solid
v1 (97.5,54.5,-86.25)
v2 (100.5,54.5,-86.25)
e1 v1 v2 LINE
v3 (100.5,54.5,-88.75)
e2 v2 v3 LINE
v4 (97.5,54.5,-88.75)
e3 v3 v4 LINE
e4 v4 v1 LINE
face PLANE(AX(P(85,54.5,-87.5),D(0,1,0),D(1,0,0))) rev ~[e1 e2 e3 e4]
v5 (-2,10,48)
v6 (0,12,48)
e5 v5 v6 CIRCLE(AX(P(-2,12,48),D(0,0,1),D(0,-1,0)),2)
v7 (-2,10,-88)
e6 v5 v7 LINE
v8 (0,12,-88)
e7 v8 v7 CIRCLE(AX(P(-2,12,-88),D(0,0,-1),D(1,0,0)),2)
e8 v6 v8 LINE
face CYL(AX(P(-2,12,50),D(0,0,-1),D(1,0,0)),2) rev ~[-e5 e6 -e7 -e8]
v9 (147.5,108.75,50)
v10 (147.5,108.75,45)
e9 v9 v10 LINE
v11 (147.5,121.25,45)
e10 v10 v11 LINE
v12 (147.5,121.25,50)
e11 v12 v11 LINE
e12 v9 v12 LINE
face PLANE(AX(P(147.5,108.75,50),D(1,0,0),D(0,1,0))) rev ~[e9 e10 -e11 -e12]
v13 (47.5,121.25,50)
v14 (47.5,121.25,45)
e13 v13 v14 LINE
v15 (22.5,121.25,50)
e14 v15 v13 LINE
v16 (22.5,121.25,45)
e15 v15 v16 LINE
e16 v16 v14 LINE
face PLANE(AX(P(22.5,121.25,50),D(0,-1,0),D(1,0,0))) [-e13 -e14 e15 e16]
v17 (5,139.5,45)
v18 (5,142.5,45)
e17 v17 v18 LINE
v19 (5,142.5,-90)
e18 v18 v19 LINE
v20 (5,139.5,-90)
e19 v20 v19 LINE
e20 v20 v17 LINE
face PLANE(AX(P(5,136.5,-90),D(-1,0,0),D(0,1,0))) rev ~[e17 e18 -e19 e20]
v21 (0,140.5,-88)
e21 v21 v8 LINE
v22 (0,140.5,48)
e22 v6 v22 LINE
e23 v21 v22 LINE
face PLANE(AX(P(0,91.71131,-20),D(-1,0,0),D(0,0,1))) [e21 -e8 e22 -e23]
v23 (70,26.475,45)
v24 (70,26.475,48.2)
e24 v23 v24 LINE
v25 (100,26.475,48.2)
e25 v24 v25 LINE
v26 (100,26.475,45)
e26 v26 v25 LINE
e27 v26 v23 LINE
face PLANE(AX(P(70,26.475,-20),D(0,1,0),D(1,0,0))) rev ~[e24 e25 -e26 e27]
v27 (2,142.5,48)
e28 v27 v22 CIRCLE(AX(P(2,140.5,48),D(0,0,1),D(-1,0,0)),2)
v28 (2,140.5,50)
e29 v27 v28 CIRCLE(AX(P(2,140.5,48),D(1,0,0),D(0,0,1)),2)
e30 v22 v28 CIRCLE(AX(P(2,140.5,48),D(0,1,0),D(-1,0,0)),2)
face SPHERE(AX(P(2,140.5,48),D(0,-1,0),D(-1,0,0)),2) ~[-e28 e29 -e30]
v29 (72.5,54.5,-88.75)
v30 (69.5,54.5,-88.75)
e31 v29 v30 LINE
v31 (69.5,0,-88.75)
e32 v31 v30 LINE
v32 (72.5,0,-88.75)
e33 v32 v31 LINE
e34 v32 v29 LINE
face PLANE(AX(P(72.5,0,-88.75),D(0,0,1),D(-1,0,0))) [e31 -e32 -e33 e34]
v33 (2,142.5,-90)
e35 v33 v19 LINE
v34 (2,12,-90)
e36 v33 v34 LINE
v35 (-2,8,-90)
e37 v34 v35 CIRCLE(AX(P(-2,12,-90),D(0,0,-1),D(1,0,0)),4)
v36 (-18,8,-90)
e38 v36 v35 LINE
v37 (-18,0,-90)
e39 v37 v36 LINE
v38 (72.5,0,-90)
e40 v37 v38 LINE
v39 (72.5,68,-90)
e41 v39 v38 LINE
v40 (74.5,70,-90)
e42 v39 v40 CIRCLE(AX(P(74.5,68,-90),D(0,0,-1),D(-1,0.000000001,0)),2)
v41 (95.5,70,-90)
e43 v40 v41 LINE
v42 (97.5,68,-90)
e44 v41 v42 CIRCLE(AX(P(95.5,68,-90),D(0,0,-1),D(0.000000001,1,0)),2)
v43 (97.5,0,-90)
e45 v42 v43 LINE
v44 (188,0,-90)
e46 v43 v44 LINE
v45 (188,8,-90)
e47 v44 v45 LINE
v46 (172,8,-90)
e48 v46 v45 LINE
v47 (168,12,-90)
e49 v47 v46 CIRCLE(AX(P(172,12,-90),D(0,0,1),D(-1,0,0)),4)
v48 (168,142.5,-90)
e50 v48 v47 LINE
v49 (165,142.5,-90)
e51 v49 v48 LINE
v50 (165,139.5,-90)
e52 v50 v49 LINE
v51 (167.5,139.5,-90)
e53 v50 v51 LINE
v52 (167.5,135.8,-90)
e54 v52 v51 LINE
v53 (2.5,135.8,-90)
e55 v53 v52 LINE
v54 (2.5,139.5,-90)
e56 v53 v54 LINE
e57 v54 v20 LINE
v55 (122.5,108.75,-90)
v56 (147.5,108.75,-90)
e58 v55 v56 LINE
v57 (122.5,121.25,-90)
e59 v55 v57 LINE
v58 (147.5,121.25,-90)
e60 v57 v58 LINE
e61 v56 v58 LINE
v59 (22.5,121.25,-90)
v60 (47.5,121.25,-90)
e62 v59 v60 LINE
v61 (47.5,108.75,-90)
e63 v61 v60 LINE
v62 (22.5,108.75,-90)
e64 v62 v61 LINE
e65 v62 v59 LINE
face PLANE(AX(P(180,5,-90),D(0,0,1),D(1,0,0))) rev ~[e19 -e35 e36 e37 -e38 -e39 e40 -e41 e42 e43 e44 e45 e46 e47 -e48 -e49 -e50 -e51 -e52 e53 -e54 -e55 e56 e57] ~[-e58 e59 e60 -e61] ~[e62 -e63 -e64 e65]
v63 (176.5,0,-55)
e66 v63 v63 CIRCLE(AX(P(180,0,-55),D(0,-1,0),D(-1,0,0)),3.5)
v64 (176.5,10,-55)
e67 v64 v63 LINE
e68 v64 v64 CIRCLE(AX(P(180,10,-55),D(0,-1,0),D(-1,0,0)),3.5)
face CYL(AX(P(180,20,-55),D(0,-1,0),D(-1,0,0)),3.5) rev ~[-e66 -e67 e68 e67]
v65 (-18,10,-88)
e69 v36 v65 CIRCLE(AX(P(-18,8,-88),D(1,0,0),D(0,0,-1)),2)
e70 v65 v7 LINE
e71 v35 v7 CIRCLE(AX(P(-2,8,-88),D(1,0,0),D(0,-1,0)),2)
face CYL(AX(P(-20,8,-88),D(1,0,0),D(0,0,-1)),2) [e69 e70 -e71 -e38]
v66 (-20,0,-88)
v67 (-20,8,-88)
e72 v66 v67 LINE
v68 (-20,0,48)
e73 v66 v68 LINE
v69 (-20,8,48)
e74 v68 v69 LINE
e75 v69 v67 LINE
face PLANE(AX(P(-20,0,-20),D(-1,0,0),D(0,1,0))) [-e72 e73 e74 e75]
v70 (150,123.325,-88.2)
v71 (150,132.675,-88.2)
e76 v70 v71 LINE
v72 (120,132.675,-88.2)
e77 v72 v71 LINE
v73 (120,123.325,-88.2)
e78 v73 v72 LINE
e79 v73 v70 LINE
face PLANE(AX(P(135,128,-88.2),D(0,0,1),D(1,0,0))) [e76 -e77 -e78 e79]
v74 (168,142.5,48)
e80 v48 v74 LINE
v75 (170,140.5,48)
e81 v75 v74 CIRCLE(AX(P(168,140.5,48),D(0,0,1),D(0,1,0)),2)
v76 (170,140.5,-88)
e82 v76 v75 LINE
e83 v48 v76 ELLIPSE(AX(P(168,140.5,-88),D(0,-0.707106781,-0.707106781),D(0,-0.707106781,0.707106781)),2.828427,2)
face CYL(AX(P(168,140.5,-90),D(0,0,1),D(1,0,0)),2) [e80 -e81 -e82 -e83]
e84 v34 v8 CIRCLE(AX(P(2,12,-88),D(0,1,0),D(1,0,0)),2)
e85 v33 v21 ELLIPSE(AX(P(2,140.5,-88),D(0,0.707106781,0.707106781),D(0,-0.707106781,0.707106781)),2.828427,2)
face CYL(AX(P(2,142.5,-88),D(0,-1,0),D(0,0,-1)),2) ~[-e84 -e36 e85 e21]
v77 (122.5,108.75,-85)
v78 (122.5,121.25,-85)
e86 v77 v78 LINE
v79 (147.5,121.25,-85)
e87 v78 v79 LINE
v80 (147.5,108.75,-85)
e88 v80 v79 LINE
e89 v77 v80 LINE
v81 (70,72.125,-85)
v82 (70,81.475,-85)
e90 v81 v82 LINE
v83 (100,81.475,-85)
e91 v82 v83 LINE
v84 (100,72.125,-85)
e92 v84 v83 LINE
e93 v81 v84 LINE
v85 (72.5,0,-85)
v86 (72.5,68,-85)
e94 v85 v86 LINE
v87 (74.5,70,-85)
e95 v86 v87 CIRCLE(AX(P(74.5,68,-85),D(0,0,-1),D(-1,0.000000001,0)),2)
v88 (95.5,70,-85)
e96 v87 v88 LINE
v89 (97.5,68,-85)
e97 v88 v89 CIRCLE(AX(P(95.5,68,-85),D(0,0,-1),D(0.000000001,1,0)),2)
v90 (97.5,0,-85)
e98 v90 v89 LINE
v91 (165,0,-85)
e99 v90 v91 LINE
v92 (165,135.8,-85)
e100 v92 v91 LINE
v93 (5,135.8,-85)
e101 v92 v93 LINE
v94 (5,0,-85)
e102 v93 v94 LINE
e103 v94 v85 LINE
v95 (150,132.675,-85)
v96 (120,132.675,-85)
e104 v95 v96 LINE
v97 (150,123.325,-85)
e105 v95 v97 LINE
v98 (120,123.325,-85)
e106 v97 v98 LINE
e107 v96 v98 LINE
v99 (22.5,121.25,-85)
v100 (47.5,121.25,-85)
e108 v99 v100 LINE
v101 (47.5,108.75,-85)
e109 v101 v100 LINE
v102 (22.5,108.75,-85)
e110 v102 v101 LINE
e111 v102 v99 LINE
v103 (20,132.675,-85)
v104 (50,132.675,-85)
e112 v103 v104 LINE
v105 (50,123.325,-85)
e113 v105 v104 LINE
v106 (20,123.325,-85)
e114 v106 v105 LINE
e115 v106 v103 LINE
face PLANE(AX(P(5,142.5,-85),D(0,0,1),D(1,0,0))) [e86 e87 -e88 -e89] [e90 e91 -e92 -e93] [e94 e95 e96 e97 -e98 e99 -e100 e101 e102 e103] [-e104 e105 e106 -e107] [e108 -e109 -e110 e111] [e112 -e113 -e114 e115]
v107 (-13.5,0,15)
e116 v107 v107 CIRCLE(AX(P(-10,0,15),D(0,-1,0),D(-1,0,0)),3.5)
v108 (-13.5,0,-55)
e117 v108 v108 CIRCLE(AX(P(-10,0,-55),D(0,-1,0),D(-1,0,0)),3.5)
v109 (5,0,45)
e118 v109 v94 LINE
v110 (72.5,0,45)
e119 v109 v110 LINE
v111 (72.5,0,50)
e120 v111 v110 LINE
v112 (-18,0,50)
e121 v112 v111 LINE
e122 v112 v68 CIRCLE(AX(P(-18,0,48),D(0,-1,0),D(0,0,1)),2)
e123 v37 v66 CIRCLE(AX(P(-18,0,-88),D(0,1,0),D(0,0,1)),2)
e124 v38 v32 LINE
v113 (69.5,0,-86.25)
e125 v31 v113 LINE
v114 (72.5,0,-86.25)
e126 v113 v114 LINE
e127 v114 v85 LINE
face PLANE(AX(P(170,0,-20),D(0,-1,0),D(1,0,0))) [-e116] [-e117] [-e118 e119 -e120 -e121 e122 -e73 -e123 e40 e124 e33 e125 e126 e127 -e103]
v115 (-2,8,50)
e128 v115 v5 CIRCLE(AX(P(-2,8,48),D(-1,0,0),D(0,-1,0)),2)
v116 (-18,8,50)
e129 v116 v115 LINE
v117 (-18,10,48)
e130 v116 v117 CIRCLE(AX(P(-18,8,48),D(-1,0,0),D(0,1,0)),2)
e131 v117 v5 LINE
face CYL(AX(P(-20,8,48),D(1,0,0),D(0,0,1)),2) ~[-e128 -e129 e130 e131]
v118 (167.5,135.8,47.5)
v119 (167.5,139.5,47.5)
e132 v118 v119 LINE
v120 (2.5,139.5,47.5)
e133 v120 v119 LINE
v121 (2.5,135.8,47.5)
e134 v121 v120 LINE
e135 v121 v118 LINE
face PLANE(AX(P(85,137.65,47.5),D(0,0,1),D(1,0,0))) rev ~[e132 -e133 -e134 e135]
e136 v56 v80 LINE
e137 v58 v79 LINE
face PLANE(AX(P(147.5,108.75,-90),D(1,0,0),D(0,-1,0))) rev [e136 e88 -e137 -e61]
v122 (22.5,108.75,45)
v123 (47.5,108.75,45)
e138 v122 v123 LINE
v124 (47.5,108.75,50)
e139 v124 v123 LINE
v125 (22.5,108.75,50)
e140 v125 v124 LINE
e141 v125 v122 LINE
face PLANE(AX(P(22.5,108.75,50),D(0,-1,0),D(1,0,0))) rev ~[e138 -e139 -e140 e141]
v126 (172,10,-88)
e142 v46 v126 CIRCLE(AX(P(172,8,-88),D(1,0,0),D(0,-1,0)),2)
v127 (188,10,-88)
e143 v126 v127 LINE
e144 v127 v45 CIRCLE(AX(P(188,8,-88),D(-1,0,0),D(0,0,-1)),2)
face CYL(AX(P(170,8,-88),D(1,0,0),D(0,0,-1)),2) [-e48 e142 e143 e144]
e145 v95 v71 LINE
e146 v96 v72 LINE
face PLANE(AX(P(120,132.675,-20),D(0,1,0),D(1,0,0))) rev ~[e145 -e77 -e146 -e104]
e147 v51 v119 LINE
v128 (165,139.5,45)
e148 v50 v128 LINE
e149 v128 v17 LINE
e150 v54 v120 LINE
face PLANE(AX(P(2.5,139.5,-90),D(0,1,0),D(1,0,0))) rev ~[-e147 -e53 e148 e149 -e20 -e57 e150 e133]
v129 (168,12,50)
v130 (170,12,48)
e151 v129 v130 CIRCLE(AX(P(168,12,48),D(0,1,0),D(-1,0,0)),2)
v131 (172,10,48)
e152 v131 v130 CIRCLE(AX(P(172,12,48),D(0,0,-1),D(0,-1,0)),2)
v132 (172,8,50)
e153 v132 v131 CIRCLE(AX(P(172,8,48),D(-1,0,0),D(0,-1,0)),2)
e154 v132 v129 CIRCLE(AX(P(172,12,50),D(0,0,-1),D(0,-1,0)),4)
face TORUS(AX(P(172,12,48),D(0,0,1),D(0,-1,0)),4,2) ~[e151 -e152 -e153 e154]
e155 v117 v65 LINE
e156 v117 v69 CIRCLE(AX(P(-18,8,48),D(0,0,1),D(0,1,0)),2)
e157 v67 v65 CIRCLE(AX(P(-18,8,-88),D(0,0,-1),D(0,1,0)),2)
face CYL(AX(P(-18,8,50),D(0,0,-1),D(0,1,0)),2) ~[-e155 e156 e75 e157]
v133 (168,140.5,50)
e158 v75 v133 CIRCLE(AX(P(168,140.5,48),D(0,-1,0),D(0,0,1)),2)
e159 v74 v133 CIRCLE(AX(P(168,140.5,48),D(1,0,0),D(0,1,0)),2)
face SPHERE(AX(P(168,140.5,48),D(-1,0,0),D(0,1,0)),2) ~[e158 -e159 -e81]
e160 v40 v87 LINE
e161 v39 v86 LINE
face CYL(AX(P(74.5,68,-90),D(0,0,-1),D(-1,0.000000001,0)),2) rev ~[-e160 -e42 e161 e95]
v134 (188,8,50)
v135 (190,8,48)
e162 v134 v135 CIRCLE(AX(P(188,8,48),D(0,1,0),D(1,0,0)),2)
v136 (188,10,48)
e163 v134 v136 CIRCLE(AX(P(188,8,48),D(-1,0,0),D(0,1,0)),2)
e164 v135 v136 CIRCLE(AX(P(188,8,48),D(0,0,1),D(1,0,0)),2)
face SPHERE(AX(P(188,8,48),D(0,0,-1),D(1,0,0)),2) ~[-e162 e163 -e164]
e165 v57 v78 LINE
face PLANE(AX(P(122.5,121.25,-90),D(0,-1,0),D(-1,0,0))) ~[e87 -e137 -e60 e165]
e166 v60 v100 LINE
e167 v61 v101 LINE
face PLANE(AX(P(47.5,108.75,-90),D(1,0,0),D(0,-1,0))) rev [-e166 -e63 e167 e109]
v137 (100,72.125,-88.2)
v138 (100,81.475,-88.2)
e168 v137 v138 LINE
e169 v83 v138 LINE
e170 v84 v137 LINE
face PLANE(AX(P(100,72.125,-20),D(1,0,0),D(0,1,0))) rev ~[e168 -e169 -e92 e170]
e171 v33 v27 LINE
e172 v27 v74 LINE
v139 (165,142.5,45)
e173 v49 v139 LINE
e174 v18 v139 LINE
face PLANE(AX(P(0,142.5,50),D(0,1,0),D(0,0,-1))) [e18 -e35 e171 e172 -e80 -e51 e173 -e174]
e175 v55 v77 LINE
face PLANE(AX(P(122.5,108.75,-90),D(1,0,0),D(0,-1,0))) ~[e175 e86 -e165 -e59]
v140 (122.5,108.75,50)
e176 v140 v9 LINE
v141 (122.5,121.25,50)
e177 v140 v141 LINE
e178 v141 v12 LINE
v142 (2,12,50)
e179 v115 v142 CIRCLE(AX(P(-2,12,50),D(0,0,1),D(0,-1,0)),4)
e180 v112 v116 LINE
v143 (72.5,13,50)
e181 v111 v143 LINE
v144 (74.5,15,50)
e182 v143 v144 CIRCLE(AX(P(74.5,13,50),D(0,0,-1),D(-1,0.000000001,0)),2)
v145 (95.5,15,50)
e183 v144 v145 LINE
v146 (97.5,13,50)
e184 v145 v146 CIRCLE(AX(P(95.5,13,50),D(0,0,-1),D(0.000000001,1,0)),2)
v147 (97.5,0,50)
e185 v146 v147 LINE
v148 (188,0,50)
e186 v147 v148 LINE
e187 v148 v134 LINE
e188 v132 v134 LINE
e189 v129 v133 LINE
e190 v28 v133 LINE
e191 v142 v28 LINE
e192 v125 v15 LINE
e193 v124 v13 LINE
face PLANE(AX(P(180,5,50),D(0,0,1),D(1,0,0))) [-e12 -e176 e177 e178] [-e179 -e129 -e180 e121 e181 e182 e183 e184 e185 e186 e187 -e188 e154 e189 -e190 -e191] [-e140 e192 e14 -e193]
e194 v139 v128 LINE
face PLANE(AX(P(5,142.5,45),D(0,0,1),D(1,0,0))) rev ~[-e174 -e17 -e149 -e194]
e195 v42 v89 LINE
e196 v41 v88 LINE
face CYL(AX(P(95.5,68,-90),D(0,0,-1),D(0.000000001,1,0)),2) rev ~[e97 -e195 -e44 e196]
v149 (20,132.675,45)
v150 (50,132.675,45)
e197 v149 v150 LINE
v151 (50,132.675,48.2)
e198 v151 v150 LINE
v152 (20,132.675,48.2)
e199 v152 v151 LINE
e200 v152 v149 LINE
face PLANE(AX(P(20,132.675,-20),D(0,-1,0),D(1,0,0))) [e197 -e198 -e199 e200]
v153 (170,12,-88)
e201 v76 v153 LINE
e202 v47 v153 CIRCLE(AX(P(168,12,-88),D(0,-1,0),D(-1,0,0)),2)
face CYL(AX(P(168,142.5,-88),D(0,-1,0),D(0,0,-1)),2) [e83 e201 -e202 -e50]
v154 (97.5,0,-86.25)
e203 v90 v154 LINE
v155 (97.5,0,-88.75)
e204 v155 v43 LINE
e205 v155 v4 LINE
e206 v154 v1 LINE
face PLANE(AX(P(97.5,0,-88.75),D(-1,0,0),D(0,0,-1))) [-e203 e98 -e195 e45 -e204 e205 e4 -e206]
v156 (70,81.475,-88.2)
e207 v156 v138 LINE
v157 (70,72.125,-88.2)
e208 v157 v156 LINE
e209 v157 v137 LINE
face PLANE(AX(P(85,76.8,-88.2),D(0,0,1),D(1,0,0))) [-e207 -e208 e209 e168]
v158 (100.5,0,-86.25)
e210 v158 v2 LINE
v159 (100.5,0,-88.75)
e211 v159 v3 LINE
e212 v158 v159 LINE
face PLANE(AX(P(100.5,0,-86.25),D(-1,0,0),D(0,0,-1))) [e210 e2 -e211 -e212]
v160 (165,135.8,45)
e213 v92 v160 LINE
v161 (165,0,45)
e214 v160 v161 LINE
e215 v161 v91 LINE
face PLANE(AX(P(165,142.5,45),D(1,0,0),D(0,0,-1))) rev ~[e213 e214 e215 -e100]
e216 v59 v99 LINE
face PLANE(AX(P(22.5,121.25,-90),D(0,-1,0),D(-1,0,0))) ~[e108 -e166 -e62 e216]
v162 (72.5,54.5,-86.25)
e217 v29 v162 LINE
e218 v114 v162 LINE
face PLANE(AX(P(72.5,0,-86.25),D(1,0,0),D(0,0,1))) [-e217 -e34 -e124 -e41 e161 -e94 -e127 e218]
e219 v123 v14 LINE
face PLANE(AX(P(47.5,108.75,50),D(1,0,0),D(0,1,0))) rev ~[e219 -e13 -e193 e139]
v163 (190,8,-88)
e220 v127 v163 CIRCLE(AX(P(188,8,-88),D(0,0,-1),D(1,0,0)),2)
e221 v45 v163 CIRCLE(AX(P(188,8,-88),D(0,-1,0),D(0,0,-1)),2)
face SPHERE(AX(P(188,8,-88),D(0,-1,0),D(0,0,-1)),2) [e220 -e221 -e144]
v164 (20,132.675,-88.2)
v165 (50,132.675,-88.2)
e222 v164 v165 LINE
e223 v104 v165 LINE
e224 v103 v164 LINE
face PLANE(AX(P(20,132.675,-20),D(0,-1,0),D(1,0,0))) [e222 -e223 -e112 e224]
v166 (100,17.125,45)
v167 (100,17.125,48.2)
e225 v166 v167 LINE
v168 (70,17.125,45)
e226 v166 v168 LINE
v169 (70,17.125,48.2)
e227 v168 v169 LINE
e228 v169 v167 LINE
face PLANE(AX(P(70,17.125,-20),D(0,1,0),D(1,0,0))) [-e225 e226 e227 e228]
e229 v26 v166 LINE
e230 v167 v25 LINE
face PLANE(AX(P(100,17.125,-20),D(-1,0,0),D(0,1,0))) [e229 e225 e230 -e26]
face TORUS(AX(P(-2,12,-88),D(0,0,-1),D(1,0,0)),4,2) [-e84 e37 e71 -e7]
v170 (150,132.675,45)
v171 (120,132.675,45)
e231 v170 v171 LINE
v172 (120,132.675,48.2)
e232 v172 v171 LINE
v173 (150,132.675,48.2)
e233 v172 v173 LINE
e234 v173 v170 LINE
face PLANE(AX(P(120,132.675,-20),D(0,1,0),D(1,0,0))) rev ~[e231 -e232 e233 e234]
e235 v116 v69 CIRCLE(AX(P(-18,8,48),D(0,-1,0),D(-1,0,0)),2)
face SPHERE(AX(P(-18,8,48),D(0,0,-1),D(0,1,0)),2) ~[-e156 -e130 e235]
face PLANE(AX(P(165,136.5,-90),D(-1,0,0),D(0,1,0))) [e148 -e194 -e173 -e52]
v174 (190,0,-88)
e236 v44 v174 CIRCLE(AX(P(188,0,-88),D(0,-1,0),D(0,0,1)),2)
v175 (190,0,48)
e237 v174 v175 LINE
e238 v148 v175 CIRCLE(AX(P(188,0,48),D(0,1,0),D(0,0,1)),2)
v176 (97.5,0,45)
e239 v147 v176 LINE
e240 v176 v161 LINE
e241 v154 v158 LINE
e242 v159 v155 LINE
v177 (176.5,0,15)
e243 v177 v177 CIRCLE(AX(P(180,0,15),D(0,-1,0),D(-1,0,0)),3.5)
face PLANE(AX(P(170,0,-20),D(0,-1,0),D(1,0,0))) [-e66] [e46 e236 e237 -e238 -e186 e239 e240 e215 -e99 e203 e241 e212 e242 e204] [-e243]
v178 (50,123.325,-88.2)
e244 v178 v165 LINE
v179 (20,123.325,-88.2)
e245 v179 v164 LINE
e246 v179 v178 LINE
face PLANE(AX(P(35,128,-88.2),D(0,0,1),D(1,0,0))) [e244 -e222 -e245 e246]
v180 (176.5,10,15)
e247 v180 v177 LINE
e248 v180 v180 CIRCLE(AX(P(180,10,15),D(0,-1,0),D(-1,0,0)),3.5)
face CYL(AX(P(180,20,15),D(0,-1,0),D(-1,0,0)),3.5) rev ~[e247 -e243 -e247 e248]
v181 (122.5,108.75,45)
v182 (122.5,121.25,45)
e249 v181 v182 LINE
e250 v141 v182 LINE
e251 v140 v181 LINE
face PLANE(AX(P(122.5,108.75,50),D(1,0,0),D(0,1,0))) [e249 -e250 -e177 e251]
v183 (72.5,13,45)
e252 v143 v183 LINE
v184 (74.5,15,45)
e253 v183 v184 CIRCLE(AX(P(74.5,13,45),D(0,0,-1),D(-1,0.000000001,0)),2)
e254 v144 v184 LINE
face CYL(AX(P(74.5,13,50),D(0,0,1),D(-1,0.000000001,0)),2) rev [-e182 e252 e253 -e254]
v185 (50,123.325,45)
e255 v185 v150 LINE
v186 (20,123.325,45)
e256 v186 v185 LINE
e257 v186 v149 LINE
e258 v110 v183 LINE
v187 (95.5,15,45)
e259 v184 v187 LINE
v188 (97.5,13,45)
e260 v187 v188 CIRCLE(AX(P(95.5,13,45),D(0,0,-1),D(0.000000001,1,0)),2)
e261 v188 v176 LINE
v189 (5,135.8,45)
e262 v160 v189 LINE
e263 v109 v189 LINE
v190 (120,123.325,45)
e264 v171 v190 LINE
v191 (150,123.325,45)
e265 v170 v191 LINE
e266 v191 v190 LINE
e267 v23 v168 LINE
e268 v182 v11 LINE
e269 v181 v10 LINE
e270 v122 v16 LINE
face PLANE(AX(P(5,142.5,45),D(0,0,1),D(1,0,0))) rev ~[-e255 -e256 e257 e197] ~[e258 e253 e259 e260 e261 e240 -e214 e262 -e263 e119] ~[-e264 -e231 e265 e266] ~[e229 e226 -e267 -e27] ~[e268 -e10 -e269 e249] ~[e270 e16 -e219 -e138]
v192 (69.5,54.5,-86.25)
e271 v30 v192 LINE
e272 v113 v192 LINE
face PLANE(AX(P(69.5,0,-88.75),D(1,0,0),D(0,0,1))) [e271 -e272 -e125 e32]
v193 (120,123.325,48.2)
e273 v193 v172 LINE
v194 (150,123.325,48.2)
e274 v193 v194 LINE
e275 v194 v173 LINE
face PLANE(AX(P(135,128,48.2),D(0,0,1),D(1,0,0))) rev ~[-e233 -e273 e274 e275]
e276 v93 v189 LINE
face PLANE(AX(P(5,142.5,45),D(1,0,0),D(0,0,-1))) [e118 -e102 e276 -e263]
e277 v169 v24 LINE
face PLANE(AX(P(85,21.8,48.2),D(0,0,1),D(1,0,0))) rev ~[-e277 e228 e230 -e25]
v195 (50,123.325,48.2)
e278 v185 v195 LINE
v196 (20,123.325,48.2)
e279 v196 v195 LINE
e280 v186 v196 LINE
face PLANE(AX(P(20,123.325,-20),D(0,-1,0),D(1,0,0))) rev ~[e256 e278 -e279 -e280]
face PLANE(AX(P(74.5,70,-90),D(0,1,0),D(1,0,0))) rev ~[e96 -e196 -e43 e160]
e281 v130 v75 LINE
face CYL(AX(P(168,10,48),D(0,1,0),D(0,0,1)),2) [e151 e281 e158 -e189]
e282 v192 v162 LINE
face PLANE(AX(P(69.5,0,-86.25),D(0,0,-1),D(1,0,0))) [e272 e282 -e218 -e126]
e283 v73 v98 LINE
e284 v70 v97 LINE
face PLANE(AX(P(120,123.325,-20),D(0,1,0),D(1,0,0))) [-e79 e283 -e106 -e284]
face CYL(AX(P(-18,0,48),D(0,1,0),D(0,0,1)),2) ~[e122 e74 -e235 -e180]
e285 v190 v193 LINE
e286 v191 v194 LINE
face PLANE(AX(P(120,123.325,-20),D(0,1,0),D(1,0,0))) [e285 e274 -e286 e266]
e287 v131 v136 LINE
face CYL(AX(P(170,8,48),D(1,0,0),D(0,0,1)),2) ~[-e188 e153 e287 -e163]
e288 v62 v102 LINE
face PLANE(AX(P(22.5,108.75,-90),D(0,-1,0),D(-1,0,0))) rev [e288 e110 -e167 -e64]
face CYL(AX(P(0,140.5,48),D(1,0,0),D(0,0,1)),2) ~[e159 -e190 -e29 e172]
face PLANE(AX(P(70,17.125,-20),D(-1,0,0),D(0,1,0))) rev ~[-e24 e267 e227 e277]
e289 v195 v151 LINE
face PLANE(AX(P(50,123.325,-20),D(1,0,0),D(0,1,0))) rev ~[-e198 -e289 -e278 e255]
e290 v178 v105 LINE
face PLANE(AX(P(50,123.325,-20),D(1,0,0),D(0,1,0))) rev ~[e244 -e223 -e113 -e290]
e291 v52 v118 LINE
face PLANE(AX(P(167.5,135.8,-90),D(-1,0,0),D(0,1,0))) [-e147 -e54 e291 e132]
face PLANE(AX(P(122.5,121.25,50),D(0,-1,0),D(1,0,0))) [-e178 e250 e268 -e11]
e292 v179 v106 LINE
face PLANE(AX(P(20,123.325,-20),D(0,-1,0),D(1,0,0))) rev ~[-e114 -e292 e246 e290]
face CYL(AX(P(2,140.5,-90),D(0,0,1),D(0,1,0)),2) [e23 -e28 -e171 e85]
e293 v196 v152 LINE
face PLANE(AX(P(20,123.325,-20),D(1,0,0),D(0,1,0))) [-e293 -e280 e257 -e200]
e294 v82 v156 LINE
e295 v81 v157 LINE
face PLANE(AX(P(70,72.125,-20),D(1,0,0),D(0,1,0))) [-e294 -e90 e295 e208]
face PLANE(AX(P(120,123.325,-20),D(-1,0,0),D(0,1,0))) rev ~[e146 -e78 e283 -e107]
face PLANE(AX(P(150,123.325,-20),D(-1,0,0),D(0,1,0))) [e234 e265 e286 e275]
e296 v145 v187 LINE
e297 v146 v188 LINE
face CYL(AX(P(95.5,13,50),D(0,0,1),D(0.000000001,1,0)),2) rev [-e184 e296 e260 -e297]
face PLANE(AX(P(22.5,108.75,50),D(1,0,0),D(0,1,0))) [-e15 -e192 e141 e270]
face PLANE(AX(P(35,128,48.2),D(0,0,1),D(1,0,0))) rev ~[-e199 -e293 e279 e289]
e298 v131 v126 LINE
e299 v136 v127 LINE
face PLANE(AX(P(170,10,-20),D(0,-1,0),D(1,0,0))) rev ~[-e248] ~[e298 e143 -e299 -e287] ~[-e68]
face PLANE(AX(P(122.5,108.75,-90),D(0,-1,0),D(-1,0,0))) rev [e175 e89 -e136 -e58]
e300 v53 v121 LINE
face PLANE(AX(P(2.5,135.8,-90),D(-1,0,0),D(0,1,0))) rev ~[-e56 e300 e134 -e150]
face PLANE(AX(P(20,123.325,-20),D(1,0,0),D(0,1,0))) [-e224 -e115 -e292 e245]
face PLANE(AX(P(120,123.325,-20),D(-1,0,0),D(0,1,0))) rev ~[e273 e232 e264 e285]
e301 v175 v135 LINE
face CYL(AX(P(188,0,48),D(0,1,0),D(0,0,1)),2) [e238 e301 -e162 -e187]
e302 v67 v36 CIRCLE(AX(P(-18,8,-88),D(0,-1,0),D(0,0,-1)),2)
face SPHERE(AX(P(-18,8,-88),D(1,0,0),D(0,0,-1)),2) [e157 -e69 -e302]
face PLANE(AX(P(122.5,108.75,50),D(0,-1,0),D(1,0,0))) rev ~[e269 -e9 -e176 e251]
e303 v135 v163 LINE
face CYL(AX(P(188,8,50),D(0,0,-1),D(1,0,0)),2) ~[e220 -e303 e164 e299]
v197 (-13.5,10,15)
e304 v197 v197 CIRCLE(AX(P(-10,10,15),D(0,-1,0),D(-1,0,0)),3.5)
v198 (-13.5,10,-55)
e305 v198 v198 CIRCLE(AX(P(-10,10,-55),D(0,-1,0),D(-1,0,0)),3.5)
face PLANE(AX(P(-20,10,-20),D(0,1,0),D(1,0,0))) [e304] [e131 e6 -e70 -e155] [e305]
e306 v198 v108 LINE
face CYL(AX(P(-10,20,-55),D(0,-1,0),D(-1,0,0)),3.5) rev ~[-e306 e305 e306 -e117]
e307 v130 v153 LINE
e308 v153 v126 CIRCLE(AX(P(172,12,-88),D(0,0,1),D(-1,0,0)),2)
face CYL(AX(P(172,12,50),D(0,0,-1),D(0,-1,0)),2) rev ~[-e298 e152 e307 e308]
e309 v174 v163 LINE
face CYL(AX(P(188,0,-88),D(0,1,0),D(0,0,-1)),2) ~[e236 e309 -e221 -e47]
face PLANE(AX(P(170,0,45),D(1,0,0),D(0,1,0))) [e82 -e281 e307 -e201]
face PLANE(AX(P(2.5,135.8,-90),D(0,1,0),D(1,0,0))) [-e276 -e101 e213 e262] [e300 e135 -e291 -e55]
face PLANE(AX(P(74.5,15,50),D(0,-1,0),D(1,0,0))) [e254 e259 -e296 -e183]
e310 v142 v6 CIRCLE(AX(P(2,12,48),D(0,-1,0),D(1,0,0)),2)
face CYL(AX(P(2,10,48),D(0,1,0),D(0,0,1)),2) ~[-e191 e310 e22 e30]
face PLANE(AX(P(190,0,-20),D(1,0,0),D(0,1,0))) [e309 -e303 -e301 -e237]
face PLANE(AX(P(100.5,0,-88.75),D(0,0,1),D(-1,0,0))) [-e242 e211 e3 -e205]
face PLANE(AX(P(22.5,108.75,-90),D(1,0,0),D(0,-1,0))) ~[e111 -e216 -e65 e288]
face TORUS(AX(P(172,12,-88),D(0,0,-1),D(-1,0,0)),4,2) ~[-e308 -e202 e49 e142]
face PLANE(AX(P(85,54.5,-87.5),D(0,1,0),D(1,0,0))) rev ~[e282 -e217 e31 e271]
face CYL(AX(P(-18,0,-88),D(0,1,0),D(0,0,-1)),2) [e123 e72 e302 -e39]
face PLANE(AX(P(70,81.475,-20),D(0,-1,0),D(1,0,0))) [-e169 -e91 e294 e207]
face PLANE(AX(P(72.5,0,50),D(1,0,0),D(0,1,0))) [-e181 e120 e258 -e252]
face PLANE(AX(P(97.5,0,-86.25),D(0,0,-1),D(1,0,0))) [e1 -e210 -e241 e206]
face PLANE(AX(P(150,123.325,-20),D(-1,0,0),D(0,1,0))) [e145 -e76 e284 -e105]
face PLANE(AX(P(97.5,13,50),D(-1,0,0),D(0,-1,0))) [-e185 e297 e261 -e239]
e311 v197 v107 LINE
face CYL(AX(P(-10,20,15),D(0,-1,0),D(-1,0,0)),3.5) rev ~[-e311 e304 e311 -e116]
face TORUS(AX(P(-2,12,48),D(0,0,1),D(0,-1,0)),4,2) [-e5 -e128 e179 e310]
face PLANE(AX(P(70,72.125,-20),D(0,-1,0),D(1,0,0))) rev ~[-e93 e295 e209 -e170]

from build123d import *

# Parameters (mm, degrees)
BOSS_EXTRUDE1_DEPTH      = 170
SKETCH7_W                = 5
SKETCH7_H                = 142.5
BOSS_EXTRUDE2_DEPTH      = 130
SKETCH9_W                = 160
SKETCH9_H                = 130
CUT_EXTRUDE2_DEPTH       = 60
SKETCH10_W               = 165
SKETCH10_H               = 3.7
CUT_EXTRUDE3_DEPTH       = 137.5
SKETCH13_W               = 160
SKETCH13_H               = 6
CUT_EXTRUDE4_DEPTH       = 5
SKETCH15_W               = 20
SKETCH15_H               = 10
BOSS_EXTRUDE3_DEPTH      = 70
SKETCH16_W               = 25
SKETCH16_H               = 12.5
CUT_EXTRUDE5_DEPTH       = 5
M6_CLEARANCE_HOLE1_D     = 7
M6_CLEARANCE_HOLE1_DEPTH = 10
SKETCH26_W               = 30
SKETCH26_H               = 9.35
CUT_EXTRUDE6_DEPTH       = 68.2
SKETCH27_W               = 30
SKETCH27_H               = 9.35
CUT_EXTRUDE8_DEPTH       = 68.2
CUT_EXTRUDE10_DEPTH      = 5
CUT_EXTRUDE11_DEPTH      = 5
SKETCH30_W               = 30
SKETCH30_H               = 9.35
CUT_EXTRUDE12_DEPTH      = 68.2
CUT_EXTRUDE14_DEPTH      = 54.5
FILLET1_R                = 2


with BuildPart() as part:
    # Sketch1 → Boss-Extrude1 (new body)
    with BuildSketch(Plane(origin=(0, 0, 0), x_dir=(0, 0, -1), z_dir=(1, 0, 0))):
        Polygon((90, 142.5), (90, 0), (85, 0), (85, 137.5), (-45, 137.5), (-45, 0), (-50, 0), (-50, 142.5), align=None)
    extrude(amount=BOSS_EXTRUDE1_DEPTH)

    # Sketch7 → Boss-Extrude2 (add)
    with BuildSketch(Plane(origin=(0, 0, 45), x_dir=(-1, 0, 0), z_dir=(0, 0, -1))):
        with Locations((-167.5, 71.25)):
            Rectangle(SKETCH7_W, SKETCH7_H)
        with Locations((-2.5, 71.25)):
            Rectangle(SKETCH7_W, SKETCH7_H)
    extrude(amount=BOSS_EXTRUDE2_DEPTH)

    # Sketch9 → Cut-Extrude2 (cut)
    with BuildSketch(Plane(origin=(0, 142.5, 0), x_dir=(1, 0, 0), z_dir=(0, 1, 0))):
        with Locations((85, 20)):
            Rectangle(SKETCH9_W, SKETCH9_H)
    extrude(amount=-CUT_EXTRUDE2_DEPTH, mode=Mode.SUBTRACT)

    # Sketch10 → Cut-Extrude3 (cut)
    with BuildSketch(Plane(origin=(80, 0, -90), x_dir=(1, 0, 0), z_dir=(0, 0, 1))):
        with Locations((5, 137.65)):
            Rectangle(SKETCH10_W, SKETCH10_H)
    extrude(amount=CUT_EXTRUDE3_DEPTH, mode=Mode.SUBTRACT)

    # Sketch13 → Cut-Extrude4 (cut)
    with BuildSketch(Plane(origin=(80, 0, -90), x_dir=(1, 0, 0), z_dir=(0, 0, 1))):
        with Locations((5, 139.5)):
            Rectangle(SKETCH13_W, SKETCH13_H)
    extrude(amount=CUT_EXTRUDE4_DEPTH, mode=Mode.SUBTRACT)

    # Sketch15 → Boss-Extrude3 (add, symmetric)
    with BuildSketch(Plane.XY.offset(-20)):
        with Locations((-10, 5)):
            Rectangle(SKETCH15_W, SKETCH15_H)
        with Locations((180, 5)):
            Rectangle(SKETCH15_W, SKETCH15_H)
    extrude(amount=BOSS_EXTRUDE3_DEPTH, both=True)

    # Sketch16 → Cut-Extrude5 (cut)
    with BuildSketch(Plane.XY.offset(50)):
        with Locations((35, 115)):
            Rectangle(SKETCH16_W, SKETCH16_H)
        with Locations((135, 115)):
            Rectangle(SKETCH16_W, SKETCH16_H)
    cut_extrude5 = extrude(amount=-CUT_EXTRUDE5_DEPTH, mode=Mode.SUBTRACT)

    # M6 Clearance Hole1
    with Locations(Plane(origin=(0, 10, 0), x_dir=(1, 0, 0), z_dir=(0, 1, 0))):
        with Locations((-10, -15), (-10, 55), (180, 55), (180, -15)):
            Hole(M6_CLEARANCE_HOLE1_D / 2, depth=M6_CLEARANCE_HOLE1_DEPTH)

    # Mirror2: Cut-Extrude5 across plane
    add(cut_extrude5.mirror(Plane.XY.offset(-20)), mode=Mode.SUBTRACT)

    # Sketch26 → Cut-Extrude6 (cut, symmetric)
    with BuildSketch(Plane.XY.offset(-20)):
        with Locations((135, 128)):
            Rectangle(SKETCH26_W, SKETCH26_H)
        with Locations((35, 128)):
            Rectangle(SKETCH26_W, SKETCH26_H)
    extrude(amount=CUT_EXTRUDE6_DEPTH, both=True, mode=Mode.SUBTRACT)

    # Sketch27 → Cut-Extrude8 (cut)
    with BuildSketch(Plane.XY.offset(-20)):
        with Locations((85, 21.8)):
            Rectangle(SKETCH27_W, SKETCH27_H)
    extrude(amount=CUT_EXTRUDE8_DEPTH, mode=Mode.SUBTRACT)

    # Sketch28 → Cut-Extrude10 (cut)
    with BuildSketch(Plane(origin=(0, 0, 50), x_dir=(-1, 0, 0), z_dir=(0, 0, -1))):
        with BuildLine():
            Line((-72.5, 0), (-72.5, 13))
            ThreePointArc((-72.5, 13), (-73.085786438, 14.414213562), (-74.5, 15))
            Line((-74.5, 15), (-95.5, 15))
            ThreePointArc((-95.5, 15), (-96.914213562, 14.414213562), (-97.5, 13))
            Line((-97.5, 13), (-97.5, 0))
            Line((-97.5, 0), (-72.5, 0))
        make_face()
    extrude(amount=CUT_EXTRUDE10_DEPTH, mode=Mode.SUBTRACT)

    # Sketch29 → Cut-Extrude11 (cut)
    with BuildSketch(Plane.XY.offset(-90)):
        with BuildLine():
            Line((95.5, 52.5), (74.5, 52.5))
            ThreePointArc((74.5, 52.5), (73.085786438, 53.085786438), (72.5, 54.5))
            Line((72.5, 54.5), (72.5, 68))
            ThreePointArc((72.5, 68), (73.085786438, 69.414213562), (74.5, 70))
            Line((74.5, 70), (95.5, 70))
            ThreePointArc((95.5, 70), (96.914213562, 69.414213562), (97.5, 68))
            Line((97.5, 68), (97.5, 54.5))
            ThreePointArc((97.5, 54.5), (96.914213562, 53.085786438), (95.5, 52.5))
        make_face()
    extrude(amount=CUT_EXTRUDE11_DEPTH, mode=Mode.SUBTRACT)

    # Sketch30 → Cut-Extrude12 (cut)
    with BuildSketch(Plane.XY.offset(-20)):
        with Locations((85, 76.8)):
            Rectangle(SKETCH30_W, SKETCH30_H)
    extrude(amount=-CUT_EXTRUDE12_DEPTH, mode=Mode.SUBTRACT)

    # Sketch31 → Cut-Extrude14 (cut)
    with BuildSketch(Plane(origin=(0, 0, 0), x_dir=(1, 0, 0), z_dir=(0, 1, 0))):
        Polygon((97.5, 86.25), (100.5, 86.25), (100.5, 88.75), (97.5, 88.75), (97.5, 90), (72.5, 90), (72.5, 88.75), (69.5, 88.75), (69.5, 86.25), (72.5, 86.25), (72.5, 85), (97.5, 85), align=None)
    extrude(amount=CUT_EXTRUDE14_DEPTH, mode=Mode.SUBTRACT)

    # Fillet1
    fillet1_edges = [part.edges().sort_by_distance(p)[0] for p in [
        (0, 76.25, 50),
        (0, 142.5, -20),
        (0, 76.25, -90),
        (-10, 10, -90),
        (0, 10, -20),
        (-20, 5, -90),
        (-20, 10, -20),
        (-10, 10, 50),
        (-20, 5, 50),
        (190, 5, -90),
        (180, 10, -90),
        (190, 10, -20),
        (170, 10, -20),
        (190, 5, 50),
        (180, 10, 50),
        (85, 142.5, 50),
        (170, 76.25, -90),
        (170, 142.5, -20),
        (170, 76.25, 50),
    ]]
    fillet(fillet1_edges, radius=FILLET1_R)


solid = part.part
